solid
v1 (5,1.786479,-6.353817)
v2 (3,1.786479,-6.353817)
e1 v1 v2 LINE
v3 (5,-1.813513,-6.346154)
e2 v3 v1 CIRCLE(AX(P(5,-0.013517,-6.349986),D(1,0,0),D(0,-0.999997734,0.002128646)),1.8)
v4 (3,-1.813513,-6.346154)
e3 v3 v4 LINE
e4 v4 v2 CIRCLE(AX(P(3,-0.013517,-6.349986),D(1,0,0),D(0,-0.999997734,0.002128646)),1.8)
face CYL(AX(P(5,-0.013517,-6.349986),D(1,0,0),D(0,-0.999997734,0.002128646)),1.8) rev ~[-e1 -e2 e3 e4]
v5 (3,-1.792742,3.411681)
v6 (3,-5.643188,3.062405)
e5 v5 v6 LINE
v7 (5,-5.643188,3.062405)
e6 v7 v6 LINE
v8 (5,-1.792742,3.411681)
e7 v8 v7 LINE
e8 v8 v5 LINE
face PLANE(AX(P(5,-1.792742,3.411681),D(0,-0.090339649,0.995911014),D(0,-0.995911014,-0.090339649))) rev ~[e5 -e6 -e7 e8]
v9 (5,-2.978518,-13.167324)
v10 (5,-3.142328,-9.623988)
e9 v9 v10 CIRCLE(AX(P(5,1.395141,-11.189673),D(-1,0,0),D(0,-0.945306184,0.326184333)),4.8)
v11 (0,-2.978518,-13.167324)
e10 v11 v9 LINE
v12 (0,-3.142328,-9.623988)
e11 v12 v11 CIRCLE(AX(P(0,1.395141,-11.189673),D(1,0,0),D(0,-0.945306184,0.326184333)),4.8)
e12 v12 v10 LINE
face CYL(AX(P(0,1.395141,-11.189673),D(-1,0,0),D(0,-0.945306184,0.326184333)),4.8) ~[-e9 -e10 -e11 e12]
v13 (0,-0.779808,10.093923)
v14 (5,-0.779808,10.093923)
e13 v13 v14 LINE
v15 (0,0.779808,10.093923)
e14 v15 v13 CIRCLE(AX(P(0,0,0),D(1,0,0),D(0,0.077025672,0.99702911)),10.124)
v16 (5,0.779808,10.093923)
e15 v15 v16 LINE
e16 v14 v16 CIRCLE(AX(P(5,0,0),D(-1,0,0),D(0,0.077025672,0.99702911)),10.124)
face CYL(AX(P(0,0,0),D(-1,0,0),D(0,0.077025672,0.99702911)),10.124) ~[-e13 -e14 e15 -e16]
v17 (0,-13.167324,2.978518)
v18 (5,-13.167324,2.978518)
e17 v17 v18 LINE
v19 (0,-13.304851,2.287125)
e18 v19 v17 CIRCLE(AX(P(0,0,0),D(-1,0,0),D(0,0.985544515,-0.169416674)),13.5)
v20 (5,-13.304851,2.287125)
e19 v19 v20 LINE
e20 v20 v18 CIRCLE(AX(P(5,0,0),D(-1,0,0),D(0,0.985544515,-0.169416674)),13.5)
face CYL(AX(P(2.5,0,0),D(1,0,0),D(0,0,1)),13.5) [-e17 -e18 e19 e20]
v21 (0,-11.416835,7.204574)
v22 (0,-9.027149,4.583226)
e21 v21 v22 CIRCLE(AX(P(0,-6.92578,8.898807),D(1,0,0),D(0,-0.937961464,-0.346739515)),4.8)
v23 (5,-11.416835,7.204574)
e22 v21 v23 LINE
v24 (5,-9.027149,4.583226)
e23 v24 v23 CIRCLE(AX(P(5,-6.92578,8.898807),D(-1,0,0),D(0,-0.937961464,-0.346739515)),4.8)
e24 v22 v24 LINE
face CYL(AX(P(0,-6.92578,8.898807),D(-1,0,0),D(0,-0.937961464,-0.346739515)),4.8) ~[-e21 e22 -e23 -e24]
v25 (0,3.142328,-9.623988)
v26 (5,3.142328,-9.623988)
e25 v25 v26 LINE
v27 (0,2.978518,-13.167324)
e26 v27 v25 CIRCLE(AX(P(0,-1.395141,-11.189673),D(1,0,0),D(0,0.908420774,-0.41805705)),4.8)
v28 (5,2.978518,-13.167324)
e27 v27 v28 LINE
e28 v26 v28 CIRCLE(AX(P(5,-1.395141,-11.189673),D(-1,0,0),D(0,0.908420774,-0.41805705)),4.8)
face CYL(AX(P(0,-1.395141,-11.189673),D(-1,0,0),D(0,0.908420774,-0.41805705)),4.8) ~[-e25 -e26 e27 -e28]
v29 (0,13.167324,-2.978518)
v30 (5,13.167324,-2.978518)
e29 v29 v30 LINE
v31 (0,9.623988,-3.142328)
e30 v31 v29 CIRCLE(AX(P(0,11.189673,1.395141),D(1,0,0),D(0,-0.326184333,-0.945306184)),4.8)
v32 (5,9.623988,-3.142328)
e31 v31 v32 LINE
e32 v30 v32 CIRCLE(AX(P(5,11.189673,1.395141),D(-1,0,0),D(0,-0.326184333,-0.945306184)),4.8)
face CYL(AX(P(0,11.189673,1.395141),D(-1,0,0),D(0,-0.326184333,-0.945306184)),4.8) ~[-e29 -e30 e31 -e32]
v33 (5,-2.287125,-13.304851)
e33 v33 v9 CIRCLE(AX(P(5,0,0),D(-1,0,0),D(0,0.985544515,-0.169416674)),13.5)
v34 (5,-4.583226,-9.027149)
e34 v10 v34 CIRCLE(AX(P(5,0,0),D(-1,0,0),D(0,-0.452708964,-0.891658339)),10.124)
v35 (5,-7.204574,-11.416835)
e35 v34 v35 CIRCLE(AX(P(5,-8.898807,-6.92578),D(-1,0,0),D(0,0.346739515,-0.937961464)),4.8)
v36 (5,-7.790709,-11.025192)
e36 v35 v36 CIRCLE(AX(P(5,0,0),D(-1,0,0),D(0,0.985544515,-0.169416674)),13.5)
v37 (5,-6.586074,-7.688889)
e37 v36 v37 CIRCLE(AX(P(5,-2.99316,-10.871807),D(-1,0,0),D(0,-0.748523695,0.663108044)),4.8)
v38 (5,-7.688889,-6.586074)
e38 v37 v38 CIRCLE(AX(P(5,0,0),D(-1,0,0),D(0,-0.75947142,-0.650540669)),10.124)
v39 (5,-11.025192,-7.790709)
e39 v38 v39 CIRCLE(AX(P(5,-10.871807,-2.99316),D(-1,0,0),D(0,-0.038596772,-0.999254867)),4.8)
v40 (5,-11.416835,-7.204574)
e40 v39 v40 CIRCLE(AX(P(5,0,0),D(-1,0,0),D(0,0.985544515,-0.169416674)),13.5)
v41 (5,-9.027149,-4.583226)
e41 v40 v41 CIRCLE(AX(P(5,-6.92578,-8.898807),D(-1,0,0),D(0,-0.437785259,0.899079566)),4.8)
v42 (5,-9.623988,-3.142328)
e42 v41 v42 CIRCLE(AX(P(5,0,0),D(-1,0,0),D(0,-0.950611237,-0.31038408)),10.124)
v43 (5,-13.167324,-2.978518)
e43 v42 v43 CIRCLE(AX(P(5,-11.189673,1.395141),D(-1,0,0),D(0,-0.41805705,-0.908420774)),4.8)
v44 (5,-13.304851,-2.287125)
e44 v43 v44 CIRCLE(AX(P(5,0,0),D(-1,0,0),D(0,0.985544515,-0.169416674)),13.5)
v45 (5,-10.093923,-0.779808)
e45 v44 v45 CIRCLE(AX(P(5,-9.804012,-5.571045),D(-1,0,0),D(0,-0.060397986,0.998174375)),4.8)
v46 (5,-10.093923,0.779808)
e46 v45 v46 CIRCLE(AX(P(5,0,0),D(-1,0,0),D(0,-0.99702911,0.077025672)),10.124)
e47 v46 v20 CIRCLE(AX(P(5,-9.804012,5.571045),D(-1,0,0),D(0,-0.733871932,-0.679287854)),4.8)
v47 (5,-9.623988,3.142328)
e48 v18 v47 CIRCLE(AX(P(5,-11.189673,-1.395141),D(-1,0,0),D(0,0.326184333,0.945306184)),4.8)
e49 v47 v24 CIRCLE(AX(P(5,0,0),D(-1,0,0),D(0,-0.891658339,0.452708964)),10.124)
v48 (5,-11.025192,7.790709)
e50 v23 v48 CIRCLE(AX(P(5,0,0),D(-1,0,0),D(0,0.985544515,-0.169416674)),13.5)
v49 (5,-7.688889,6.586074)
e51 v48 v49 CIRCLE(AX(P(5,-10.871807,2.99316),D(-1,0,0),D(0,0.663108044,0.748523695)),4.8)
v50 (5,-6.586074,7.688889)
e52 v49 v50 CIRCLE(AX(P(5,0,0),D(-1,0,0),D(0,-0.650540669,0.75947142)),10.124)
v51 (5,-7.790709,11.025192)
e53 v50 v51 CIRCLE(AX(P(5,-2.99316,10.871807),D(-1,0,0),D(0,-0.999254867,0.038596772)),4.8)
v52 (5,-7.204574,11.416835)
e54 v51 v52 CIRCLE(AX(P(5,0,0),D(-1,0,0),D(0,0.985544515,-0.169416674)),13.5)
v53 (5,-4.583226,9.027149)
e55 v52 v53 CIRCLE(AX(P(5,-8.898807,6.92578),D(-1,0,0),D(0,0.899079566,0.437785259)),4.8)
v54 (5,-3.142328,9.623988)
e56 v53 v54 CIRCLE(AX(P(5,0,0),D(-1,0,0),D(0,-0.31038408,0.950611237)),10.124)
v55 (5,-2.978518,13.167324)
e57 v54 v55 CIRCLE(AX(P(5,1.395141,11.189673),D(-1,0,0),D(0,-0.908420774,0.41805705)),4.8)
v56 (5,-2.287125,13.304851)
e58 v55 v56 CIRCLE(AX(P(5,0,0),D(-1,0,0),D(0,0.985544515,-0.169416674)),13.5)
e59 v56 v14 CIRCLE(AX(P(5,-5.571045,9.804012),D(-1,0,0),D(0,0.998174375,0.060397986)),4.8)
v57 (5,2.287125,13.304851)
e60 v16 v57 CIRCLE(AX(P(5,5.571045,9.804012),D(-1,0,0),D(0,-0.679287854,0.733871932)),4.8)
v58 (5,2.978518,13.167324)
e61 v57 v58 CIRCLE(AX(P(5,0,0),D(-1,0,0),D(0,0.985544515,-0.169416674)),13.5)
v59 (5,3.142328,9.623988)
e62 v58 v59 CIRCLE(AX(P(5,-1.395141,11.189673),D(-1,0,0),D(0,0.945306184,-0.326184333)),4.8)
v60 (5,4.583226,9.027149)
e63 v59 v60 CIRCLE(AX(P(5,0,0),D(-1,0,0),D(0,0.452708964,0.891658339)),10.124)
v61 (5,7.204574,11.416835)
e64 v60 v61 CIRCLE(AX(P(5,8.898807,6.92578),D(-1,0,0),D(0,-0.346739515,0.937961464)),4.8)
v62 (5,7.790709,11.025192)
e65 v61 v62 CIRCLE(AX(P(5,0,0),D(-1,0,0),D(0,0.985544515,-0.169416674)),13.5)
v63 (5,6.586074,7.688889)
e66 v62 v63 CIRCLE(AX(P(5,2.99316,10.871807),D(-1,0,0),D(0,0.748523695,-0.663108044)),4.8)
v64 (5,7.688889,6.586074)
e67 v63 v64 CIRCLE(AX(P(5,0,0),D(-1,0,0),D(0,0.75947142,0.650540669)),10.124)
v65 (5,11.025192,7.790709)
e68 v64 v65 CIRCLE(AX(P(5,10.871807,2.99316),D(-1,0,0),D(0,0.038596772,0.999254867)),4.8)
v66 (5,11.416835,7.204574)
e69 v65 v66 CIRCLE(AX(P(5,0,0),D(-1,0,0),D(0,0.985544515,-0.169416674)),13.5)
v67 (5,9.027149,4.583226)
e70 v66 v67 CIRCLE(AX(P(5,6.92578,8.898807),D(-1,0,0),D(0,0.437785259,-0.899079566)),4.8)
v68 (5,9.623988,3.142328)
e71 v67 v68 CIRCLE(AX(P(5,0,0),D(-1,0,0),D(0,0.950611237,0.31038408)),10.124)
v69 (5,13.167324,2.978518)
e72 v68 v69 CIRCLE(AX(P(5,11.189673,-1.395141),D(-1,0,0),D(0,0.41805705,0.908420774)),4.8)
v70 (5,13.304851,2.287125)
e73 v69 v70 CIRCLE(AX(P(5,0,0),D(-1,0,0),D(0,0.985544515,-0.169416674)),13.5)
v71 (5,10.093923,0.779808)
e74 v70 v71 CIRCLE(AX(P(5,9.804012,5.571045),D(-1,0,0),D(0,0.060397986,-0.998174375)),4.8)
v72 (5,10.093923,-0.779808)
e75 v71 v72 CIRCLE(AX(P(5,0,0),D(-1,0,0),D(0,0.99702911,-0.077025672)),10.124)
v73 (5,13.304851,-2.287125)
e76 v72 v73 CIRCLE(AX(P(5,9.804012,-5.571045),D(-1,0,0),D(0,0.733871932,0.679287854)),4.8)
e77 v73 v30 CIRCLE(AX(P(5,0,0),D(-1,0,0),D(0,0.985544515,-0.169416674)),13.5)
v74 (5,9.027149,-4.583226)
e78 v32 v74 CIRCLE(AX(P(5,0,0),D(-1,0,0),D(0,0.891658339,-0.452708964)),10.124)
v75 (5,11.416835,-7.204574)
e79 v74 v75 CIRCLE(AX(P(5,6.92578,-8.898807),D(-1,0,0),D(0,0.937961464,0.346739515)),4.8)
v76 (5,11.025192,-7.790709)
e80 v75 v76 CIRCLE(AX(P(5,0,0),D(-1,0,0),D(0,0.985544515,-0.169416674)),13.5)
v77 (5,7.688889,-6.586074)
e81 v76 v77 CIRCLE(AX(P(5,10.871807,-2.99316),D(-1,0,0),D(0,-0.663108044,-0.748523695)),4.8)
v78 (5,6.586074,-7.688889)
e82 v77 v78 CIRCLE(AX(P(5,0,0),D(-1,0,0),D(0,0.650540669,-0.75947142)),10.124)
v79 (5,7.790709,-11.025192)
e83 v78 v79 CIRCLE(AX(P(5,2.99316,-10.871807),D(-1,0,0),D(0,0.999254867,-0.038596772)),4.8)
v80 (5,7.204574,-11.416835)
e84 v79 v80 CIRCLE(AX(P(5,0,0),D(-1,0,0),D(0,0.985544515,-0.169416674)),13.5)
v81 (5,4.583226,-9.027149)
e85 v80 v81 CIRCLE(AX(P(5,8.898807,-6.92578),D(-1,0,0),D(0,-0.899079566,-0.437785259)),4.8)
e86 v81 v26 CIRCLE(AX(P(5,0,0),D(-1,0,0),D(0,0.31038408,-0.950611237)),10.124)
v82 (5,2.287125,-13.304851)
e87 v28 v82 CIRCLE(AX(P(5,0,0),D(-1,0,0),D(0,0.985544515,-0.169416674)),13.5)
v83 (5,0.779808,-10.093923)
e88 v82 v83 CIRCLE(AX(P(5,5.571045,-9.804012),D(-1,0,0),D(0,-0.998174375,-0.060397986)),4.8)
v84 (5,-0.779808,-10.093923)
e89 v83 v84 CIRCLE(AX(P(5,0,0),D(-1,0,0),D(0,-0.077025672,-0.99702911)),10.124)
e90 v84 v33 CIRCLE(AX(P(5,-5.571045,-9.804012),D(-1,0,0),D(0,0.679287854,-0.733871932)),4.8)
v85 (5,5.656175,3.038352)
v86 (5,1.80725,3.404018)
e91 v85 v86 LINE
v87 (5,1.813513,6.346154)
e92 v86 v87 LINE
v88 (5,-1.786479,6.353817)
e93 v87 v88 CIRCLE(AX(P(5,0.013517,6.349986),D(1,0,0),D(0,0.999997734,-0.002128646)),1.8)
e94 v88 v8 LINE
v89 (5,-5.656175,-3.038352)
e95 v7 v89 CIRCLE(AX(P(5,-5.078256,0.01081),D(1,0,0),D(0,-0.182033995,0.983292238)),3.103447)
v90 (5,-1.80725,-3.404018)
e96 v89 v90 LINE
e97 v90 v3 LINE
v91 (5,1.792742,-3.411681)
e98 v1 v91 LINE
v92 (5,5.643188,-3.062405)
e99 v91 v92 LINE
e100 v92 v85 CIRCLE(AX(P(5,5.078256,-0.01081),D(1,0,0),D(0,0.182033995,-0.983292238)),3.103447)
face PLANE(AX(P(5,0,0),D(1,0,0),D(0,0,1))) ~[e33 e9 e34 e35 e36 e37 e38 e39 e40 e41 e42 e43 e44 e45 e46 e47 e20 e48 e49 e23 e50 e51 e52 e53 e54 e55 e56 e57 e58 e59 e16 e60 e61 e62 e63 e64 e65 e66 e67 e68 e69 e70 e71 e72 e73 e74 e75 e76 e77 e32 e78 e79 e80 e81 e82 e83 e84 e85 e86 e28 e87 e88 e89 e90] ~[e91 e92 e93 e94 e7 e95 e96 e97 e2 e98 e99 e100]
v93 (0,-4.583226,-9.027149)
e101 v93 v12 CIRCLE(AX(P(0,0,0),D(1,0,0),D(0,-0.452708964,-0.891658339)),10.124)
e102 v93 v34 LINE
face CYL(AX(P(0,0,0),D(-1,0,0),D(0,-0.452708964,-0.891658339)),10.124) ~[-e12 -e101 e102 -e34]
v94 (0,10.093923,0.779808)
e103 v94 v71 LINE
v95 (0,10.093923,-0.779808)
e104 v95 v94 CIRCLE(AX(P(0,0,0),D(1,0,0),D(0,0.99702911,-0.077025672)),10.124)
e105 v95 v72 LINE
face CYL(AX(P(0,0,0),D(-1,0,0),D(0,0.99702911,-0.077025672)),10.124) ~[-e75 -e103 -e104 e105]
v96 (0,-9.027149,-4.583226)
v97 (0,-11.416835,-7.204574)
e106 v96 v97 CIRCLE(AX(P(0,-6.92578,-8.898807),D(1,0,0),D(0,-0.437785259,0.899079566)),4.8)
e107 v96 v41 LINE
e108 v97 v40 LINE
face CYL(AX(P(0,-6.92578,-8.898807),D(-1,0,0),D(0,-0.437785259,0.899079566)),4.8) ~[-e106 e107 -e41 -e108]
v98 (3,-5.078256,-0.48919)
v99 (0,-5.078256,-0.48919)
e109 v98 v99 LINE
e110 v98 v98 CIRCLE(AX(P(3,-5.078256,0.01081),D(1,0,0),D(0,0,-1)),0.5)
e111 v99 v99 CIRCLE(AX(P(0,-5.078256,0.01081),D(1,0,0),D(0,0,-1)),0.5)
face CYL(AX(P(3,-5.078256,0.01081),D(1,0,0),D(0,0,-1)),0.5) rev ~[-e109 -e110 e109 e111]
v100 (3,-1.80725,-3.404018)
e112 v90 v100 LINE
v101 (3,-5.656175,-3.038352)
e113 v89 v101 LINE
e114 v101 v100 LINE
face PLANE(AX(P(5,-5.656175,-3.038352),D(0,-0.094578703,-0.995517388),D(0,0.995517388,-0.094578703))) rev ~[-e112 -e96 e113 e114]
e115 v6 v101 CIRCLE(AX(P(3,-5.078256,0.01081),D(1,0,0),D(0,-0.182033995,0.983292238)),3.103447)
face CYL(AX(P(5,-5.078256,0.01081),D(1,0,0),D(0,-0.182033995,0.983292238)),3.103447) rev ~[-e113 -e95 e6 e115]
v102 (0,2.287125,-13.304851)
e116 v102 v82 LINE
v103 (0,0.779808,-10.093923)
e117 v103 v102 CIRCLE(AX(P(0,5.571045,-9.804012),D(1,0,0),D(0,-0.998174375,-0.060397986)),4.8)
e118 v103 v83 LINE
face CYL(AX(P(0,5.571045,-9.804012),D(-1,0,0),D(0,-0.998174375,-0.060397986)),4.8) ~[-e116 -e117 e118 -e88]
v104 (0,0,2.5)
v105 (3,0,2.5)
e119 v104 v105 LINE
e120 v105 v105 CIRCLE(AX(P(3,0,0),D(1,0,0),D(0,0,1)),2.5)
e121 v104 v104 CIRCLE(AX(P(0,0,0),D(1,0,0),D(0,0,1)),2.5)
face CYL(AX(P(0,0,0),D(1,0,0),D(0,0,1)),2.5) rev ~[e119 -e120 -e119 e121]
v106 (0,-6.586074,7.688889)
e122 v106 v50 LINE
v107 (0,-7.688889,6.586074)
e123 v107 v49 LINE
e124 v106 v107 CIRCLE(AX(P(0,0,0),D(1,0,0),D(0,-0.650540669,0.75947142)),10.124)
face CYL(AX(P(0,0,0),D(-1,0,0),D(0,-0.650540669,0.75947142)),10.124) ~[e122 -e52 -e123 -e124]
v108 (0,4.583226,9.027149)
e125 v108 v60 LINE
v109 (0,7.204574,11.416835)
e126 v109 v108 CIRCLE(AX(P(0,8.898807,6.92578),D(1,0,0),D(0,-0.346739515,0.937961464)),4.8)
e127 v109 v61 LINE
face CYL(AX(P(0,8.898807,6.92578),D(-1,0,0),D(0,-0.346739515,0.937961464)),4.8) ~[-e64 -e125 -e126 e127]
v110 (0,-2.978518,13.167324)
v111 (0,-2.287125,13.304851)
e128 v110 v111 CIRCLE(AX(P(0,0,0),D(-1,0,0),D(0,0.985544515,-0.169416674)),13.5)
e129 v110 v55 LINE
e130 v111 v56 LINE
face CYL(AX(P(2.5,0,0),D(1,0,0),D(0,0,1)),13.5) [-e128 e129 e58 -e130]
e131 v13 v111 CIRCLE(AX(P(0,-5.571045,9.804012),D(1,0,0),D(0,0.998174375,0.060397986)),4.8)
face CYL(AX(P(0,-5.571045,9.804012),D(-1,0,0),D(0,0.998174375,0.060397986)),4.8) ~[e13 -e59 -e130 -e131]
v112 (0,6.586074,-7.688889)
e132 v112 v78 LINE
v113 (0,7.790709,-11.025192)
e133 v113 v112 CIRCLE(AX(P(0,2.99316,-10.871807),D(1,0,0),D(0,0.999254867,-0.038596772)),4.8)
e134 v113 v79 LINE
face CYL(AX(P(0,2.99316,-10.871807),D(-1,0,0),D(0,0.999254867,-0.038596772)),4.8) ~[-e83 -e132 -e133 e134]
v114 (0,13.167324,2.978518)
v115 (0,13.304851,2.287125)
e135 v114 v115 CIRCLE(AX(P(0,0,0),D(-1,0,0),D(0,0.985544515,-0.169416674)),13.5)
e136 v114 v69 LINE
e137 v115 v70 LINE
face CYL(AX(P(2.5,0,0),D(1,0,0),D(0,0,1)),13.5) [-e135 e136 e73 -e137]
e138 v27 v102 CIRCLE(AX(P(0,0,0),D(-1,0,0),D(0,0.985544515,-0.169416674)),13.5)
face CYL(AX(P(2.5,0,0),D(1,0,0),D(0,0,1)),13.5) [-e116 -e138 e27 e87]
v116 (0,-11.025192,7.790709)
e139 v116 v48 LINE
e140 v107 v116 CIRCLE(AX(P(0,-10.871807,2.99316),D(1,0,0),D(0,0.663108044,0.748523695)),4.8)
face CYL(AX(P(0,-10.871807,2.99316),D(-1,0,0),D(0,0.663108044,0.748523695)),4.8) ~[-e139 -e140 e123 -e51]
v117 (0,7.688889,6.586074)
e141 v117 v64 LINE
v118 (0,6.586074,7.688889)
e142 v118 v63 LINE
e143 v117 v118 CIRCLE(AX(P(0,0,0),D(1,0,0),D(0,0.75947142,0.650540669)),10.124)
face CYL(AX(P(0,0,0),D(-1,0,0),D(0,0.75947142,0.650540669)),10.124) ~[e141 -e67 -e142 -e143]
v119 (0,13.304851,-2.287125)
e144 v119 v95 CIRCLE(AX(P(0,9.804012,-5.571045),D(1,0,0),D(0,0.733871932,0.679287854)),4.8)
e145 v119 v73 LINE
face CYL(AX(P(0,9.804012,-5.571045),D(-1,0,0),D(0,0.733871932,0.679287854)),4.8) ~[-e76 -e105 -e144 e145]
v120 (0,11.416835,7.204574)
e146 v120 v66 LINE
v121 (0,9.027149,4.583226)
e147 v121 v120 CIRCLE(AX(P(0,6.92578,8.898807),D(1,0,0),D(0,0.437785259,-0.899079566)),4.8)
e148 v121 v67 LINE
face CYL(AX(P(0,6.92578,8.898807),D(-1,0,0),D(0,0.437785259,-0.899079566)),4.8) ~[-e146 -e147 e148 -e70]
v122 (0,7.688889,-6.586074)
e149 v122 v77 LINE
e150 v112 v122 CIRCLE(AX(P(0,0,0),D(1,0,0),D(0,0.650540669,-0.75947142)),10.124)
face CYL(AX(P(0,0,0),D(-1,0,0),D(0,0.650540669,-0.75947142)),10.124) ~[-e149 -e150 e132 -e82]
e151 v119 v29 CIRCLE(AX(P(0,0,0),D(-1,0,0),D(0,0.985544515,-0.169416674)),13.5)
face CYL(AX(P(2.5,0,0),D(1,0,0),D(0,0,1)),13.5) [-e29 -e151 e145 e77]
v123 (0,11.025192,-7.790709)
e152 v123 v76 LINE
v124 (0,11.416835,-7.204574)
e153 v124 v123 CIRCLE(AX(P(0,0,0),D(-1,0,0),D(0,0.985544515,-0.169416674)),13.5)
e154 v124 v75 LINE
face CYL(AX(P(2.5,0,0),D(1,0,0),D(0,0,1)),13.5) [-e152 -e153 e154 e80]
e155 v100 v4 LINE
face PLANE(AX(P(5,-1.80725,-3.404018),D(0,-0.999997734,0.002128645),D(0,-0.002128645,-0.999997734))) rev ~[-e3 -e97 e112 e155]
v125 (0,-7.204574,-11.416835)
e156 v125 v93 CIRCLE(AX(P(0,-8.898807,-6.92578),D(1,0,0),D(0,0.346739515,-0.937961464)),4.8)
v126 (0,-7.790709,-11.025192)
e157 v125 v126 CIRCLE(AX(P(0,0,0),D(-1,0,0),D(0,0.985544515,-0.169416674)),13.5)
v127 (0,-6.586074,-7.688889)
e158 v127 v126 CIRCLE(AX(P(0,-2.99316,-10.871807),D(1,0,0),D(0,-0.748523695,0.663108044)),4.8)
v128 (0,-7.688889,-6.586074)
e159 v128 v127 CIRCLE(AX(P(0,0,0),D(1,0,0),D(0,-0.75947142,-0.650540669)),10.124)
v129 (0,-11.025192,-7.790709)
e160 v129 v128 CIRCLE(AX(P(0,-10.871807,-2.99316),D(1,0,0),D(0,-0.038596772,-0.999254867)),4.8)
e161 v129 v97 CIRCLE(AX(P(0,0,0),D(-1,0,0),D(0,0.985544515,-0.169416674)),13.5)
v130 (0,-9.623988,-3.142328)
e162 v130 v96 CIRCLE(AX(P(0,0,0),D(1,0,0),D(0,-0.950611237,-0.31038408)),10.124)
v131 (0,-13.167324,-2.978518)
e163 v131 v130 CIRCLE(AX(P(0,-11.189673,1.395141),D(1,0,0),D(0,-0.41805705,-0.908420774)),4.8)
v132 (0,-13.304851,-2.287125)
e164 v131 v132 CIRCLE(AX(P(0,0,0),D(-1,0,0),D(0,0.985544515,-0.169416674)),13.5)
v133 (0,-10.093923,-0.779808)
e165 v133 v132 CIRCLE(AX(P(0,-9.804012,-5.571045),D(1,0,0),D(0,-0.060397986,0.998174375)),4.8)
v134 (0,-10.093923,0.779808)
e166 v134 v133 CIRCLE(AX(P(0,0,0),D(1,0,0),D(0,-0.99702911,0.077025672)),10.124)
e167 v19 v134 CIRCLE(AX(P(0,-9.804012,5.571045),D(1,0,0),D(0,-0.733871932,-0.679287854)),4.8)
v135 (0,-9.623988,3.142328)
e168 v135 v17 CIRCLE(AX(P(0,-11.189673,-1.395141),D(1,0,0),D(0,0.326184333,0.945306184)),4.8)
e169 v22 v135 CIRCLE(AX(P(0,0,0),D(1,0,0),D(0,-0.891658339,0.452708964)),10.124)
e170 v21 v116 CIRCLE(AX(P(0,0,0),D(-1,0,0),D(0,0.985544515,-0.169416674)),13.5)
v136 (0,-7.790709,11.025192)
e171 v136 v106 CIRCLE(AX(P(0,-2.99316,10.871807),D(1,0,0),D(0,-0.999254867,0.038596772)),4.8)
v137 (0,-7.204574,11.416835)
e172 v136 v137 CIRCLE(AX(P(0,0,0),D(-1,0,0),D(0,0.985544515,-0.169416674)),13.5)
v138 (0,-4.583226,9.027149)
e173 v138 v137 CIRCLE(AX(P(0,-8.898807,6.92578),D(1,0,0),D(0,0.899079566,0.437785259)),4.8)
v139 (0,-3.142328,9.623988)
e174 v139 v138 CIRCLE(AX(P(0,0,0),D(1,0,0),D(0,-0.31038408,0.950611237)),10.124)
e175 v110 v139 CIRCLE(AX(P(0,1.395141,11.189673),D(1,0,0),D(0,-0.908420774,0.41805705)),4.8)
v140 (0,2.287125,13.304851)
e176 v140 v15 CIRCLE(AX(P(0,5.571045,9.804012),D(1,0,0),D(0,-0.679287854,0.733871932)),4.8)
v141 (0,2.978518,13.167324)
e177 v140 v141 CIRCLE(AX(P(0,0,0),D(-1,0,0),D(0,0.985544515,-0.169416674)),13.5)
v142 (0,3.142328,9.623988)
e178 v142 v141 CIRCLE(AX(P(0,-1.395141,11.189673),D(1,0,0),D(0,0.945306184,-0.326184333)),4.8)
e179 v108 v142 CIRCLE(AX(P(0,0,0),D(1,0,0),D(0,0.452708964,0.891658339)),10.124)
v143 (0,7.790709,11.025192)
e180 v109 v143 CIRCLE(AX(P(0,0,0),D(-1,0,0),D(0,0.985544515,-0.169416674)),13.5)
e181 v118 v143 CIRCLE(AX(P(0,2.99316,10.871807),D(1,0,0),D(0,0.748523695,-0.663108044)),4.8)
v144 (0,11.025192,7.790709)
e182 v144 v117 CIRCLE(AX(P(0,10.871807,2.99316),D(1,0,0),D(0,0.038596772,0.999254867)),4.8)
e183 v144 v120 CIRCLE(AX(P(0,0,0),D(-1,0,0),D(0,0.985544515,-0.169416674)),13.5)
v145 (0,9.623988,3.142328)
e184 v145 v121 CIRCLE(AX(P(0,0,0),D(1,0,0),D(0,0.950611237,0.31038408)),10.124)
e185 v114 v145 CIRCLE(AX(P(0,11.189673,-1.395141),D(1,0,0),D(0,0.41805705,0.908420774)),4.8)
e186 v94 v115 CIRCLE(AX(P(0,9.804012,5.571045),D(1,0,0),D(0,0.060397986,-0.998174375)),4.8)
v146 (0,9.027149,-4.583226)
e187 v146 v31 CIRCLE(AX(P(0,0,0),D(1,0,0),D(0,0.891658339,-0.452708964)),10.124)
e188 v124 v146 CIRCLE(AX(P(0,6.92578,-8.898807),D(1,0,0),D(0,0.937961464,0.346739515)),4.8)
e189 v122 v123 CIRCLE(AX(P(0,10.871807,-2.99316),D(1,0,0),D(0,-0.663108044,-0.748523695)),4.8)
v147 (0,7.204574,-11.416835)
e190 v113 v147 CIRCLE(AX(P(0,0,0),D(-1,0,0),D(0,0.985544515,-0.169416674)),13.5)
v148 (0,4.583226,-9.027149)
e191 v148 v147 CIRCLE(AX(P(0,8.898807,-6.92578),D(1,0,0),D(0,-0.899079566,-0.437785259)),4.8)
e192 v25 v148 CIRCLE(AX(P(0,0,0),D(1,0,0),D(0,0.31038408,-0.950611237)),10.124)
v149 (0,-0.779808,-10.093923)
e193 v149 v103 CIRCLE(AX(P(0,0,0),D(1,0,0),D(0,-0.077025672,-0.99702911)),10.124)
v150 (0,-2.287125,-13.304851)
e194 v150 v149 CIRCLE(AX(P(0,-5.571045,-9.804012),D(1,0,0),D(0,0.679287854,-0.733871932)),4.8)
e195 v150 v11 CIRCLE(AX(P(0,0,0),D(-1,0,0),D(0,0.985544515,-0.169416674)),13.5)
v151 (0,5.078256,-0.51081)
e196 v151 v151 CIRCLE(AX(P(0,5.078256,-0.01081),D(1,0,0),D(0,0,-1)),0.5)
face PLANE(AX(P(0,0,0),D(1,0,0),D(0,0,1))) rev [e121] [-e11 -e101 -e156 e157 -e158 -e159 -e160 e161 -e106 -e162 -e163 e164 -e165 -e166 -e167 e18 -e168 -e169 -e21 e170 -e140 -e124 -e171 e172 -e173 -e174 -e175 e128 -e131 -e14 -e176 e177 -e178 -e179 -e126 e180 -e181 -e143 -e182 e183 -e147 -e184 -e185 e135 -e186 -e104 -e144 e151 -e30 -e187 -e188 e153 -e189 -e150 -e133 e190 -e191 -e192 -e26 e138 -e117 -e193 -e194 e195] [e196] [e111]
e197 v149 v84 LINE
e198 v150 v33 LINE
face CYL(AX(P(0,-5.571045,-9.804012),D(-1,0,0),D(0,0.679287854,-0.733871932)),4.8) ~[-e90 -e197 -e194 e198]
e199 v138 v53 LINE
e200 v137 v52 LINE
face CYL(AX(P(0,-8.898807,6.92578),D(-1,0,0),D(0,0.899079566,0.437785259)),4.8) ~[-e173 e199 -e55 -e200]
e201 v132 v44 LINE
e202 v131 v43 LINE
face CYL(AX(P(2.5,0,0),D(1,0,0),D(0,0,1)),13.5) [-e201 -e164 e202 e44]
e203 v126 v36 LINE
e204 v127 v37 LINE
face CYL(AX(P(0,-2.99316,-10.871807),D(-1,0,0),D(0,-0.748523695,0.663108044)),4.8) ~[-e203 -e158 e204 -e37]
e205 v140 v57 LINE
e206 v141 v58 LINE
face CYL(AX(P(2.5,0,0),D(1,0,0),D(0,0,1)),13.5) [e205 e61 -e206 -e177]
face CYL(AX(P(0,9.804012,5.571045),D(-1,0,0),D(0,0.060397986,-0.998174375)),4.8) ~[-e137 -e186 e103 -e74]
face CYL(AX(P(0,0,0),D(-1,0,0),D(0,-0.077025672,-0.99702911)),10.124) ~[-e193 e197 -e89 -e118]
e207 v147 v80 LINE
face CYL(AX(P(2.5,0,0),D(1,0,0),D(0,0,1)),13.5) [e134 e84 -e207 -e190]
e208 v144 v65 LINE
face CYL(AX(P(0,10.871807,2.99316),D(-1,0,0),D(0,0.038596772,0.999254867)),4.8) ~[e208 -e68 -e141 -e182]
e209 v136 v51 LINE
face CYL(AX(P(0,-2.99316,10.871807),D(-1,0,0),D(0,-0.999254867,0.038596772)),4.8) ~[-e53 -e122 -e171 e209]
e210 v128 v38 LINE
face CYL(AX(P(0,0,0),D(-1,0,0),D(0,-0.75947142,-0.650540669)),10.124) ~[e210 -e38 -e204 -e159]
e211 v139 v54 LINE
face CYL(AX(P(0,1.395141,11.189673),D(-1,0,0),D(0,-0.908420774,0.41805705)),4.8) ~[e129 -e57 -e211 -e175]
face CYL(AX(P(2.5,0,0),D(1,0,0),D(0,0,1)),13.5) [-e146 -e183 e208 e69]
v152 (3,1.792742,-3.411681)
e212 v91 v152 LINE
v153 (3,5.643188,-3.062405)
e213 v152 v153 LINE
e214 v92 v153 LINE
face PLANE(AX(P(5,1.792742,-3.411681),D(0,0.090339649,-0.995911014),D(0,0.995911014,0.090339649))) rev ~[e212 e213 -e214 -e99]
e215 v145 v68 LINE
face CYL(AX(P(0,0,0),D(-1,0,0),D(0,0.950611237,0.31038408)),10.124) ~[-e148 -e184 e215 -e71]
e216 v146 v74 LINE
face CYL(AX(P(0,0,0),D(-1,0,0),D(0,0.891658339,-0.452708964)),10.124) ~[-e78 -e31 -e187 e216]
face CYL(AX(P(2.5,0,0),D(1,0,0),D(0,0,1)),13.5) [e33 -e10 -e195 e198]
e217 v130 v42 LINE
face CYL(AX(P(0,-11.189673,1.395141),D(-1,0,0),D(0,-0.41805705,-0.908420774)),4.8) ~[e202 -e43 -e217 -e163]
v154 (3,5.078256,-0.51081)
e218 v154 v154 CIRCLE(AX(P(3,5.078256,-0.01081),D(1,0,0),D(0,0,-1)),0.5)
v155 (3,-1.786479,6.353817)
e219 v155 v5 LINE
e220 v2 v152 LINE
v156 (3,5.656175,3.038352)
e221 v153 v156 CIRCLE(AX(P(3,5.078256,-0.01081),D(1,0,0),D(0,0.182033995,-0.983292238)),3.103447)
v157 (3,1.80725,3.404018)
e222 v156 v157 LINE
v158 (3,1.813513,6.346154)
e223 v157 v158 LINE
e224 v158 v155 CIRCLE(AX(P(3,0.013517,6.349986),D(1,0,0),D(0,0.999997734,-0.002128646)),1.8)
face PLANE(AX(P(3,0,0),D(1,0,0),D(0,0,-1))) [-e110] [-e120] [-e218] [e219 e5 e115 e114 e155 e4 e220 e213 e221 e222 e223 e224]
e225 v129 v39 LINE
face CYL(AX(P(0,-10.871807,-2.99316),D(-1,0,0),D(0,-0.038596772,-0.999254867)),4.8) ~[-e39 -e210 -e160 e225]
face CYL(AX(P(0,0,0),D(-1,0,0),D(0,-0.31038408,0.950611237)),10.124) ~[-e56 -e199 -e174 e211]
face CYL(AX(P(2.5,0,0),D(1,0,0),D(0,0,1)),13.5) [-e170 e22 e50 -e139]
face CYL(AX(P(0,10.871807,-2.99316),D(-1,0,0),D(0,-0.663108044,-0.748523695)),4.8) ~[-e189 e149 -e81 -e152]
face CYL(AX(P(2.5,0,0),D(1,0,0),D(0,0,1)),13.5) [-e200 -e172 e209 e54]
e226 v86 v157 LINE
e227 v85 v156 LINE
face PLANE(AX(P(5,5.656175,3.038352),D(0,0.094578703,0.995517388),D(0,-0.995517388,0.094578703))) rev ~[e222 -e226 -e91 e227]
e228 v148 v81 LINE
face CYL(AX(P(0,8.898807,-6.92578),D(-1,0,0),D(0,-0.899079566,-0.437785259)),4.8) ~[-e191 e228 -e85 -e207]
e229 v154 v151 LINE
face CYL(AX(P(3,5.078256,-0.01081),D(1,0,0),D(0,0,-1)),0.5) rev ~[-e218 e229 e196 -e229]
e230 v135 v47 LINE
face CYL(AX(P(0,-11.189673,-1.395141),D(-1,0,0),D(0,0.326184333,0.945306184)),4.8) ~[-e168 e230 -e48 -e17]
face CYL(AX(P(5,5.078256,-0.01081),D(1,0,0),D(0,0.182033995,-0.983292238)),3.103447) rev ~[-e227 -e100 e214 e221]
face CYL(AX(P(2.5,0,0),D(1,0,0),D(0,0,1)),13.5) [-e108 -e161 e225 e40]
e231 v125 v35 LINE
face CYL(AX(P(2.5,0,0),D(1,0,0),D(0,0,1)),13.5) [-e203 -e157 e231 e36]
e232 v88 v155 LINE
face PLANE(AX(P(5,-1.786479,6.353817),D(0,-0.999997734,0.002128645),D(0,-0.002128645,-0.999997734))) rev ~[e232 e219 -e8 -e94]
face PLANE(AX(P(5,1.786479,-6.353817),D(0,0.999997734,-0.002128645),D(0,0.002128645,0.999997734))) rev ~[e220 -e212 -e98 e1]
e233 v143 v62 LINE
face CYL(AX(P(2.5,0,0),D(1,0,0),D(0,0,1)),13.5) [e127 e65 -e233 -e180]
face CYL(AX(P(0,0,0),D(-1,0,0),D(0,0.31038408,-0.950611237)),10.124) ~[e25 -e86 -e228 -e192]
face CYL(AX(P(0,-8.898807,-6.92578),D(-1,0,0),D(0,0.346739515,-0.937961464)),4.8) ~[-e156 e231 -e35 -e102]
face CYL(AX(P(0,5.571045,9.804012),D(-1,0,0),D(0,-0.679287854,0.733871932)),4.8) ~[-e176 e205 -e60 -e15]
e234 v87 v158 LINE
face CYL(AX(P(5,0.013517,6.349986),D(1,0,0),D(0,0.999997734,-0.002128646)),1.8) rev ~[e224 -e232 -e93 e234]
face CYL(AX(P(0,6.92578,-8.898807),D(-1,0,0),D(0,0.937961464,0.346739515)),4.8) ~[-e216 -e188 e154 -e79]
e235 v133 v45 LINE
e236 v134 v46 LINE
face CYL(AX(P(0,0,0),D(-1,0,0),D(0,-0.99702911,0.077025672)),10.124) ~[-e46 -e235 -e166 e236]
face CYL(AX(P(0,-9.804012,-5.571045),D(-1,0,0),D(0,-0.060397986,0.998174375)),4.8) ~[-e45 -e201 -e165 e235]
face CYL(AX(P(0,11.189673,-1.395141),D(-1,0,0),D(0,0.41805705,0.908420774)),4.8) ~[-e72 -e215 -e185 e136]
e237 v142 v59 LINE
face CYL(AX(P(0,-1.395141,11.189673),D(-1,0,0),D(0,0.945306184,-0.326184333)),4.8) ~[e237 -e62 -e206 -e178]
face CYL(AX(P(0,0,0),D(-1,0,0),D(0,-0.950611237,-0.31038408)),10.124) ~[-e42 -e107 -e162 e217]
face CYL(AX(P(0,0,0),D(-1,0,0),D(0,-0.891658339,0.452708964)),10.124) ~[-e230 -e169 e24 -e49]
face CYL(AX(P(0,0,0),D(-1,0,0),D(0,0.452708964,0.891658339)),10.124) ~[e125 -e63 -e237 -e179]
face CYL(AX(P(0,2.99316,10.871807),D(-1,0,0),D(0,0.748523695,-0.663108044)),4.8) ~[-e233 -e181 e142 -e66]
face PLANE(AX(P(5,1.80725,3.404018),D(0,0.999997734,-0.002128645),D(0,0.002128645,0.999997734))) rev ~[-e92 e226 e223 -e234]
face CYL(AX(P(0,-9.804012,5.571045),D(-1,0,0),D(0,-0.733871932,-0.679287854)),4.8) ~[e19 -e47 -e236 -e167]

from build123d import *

# Parameters (mm, degrees)
BASPROSKE_W             = 5
BASPROSKE_H             = 13.5
TOOTHCUT_DEPTH          = 20.735754356
TEETHCUTS_COUNT         = 16
TEETHCUTS_ANGLE         = 337.5
BORSKE_R                = 2.5
BORE_DEPTH              = 50.0000508
ENL_V_MAT_EXTRU_1_DEPTH = 2
ESQUISSE2_R             = 0.5
ENL_V_MAT_EXTRU_2_DEPTH = 20.053559185


with BuildPart() as part:
    # BasProSke → Base-Revolve (revolve)
    with BuildSketch(Plane(origin=(0, 0, 0), x_dir=(1, 0, 0), z_dir=(0, 1, 0)), mode=Mode.PRIVATE) as base_revolve_sk:
        with Locations((2.5, 6.75)):
            Rectangle(BASPROSKE_W, BASPROSKE_H)
    revolve(base_revolve_sk.sketch.rotate(Axis((-10, 0, 0), (1, 0, 0)), 180), axis=Axis((-10, 0, 0), (1, 0, 0)))

    # TooCutSke → ToothCut (cut, through all)
    with BuildSketch(Plane(origin=(0, 0, 0), x_dir=(0, 0, -1), z_dir=(1, 0, 0))):
        with BuildLine():
            ThreePointArc((0.779807897, 10.093922708), (0, 10.124), (-0.779807897, 10.093922708))
            ThreePointArc((-0.779807897, 10.093922708), (-1.232785697, 11.858156262), (-2.310463203, 13.326597651))
            ThreePointArc((-2.310463203, 13.326597651), (0, 13.5254), (2.310463203, 13.326597651))
            ThreePointArc((2.310463203, 13.326597651), (1.232785697, 11.858156262), (0.779807897, 10.093922708))
        make_face()
    toothcut = extrude(amount=TOOTHCUT_DEPTH, mode=Mode.SUBTRACT)

    # TeethCuts: ToothCut ×16 about axis
    teethcuts_axis = Axis((-10, 0, 0), (1, 0, 0))
    for i in range(1, TEETHCUTS_COUNT):
        add(toothcut.rotate(teethcuts_axis, i * TEETHCUTS_ANGLE / (TEETHCUTS_COUNT - 1)), mode=Mode.SUBTRACT)

    # BorSke → Bore (cut, symmetric)
    with BuildSketch(Plane(origin=(0, 0, 0), x_dir=(0, 0, -1), z_dir=(1, 0, 0))):
        with Locations(Location((0, 0, 0), (0, 0, 180))):
            Circle(BORSKE_R)
    extrude(amount=BORE_DEPTH, both=True, mode=Mode.SUBTRACT)

    # Esquisse1 → Enlèv. mat.-Extru.1 (cut)
    with BuildSketch(Plane(origin=(5, 0, 0), x_dir=(0, 0, -1), z_dir=(1, 0, 0))):
        with BuildLine():
            Line((-6.353817175, -1.786479026), (-3.411680983, -1.792741804))
            Line((-3.411680983, -1.792741804), (-3.062404796, -5.643188497))
            ThreePointArc((-3.062404796, -5.643188497), (-0.017415965, -8.181695296), (3.038352407, -5.656174874))
            Line((3.038352407, -5.656174874), (3.404017861, -1.80725004))
            Line((3.404017861, -1.80725004), (6.346154052, -1.813512818))
            ThreePointArc((6.346154052, -1.813512818), (8.149981536, -0.017348458), (6.353817175, 1.786479026))
            Line((6.353817175, 1.786479026), (3.411680983, 1.792741804))
            Line((3.411680983, 1.792741804), (3.062404796, 5.643188497))
            ThreePointArc((3.062404796, 5.643188497), (0.017415965, 8.181695296), (-3.038352407, 5.656174874))
            Line((-3.038352407, 5.656174874), (-3.404017861, 1.80725004))
            Line((-3.404017861, 1.80725004), (-6.346154052, 1.813512818))
            ThreePointArc((-6.346154052, 1.813512818), (-8.149981536, 0.017348458), (-6.353817175, -1.786479026))
        make_face()
    extrude(amount=-ENL_V_MAT_EXTRU_1_DEPTH, mode=Mode.SUBTRACT)

    # Esquisse2 → Enlèv. mat.-Extru.2 (cut, through all)
    with BuildSketch(Plane(origin=(3, 0, 0), x_dir=(0, 0, -1), z_dir=(1, 0, 0))):
        with Locations((-0.010809829, -5.078255711)):
            Circle(ESQUISSE2_R)
        with Locations((0.010809829, 5.078255711)):
            Circle(ESQUISSE2_R)
    extrude(amount=-ENL_V_MAT_EXTRU_2_DEPTH, mode=Mode.SUBTRACT)


solid = part.part
